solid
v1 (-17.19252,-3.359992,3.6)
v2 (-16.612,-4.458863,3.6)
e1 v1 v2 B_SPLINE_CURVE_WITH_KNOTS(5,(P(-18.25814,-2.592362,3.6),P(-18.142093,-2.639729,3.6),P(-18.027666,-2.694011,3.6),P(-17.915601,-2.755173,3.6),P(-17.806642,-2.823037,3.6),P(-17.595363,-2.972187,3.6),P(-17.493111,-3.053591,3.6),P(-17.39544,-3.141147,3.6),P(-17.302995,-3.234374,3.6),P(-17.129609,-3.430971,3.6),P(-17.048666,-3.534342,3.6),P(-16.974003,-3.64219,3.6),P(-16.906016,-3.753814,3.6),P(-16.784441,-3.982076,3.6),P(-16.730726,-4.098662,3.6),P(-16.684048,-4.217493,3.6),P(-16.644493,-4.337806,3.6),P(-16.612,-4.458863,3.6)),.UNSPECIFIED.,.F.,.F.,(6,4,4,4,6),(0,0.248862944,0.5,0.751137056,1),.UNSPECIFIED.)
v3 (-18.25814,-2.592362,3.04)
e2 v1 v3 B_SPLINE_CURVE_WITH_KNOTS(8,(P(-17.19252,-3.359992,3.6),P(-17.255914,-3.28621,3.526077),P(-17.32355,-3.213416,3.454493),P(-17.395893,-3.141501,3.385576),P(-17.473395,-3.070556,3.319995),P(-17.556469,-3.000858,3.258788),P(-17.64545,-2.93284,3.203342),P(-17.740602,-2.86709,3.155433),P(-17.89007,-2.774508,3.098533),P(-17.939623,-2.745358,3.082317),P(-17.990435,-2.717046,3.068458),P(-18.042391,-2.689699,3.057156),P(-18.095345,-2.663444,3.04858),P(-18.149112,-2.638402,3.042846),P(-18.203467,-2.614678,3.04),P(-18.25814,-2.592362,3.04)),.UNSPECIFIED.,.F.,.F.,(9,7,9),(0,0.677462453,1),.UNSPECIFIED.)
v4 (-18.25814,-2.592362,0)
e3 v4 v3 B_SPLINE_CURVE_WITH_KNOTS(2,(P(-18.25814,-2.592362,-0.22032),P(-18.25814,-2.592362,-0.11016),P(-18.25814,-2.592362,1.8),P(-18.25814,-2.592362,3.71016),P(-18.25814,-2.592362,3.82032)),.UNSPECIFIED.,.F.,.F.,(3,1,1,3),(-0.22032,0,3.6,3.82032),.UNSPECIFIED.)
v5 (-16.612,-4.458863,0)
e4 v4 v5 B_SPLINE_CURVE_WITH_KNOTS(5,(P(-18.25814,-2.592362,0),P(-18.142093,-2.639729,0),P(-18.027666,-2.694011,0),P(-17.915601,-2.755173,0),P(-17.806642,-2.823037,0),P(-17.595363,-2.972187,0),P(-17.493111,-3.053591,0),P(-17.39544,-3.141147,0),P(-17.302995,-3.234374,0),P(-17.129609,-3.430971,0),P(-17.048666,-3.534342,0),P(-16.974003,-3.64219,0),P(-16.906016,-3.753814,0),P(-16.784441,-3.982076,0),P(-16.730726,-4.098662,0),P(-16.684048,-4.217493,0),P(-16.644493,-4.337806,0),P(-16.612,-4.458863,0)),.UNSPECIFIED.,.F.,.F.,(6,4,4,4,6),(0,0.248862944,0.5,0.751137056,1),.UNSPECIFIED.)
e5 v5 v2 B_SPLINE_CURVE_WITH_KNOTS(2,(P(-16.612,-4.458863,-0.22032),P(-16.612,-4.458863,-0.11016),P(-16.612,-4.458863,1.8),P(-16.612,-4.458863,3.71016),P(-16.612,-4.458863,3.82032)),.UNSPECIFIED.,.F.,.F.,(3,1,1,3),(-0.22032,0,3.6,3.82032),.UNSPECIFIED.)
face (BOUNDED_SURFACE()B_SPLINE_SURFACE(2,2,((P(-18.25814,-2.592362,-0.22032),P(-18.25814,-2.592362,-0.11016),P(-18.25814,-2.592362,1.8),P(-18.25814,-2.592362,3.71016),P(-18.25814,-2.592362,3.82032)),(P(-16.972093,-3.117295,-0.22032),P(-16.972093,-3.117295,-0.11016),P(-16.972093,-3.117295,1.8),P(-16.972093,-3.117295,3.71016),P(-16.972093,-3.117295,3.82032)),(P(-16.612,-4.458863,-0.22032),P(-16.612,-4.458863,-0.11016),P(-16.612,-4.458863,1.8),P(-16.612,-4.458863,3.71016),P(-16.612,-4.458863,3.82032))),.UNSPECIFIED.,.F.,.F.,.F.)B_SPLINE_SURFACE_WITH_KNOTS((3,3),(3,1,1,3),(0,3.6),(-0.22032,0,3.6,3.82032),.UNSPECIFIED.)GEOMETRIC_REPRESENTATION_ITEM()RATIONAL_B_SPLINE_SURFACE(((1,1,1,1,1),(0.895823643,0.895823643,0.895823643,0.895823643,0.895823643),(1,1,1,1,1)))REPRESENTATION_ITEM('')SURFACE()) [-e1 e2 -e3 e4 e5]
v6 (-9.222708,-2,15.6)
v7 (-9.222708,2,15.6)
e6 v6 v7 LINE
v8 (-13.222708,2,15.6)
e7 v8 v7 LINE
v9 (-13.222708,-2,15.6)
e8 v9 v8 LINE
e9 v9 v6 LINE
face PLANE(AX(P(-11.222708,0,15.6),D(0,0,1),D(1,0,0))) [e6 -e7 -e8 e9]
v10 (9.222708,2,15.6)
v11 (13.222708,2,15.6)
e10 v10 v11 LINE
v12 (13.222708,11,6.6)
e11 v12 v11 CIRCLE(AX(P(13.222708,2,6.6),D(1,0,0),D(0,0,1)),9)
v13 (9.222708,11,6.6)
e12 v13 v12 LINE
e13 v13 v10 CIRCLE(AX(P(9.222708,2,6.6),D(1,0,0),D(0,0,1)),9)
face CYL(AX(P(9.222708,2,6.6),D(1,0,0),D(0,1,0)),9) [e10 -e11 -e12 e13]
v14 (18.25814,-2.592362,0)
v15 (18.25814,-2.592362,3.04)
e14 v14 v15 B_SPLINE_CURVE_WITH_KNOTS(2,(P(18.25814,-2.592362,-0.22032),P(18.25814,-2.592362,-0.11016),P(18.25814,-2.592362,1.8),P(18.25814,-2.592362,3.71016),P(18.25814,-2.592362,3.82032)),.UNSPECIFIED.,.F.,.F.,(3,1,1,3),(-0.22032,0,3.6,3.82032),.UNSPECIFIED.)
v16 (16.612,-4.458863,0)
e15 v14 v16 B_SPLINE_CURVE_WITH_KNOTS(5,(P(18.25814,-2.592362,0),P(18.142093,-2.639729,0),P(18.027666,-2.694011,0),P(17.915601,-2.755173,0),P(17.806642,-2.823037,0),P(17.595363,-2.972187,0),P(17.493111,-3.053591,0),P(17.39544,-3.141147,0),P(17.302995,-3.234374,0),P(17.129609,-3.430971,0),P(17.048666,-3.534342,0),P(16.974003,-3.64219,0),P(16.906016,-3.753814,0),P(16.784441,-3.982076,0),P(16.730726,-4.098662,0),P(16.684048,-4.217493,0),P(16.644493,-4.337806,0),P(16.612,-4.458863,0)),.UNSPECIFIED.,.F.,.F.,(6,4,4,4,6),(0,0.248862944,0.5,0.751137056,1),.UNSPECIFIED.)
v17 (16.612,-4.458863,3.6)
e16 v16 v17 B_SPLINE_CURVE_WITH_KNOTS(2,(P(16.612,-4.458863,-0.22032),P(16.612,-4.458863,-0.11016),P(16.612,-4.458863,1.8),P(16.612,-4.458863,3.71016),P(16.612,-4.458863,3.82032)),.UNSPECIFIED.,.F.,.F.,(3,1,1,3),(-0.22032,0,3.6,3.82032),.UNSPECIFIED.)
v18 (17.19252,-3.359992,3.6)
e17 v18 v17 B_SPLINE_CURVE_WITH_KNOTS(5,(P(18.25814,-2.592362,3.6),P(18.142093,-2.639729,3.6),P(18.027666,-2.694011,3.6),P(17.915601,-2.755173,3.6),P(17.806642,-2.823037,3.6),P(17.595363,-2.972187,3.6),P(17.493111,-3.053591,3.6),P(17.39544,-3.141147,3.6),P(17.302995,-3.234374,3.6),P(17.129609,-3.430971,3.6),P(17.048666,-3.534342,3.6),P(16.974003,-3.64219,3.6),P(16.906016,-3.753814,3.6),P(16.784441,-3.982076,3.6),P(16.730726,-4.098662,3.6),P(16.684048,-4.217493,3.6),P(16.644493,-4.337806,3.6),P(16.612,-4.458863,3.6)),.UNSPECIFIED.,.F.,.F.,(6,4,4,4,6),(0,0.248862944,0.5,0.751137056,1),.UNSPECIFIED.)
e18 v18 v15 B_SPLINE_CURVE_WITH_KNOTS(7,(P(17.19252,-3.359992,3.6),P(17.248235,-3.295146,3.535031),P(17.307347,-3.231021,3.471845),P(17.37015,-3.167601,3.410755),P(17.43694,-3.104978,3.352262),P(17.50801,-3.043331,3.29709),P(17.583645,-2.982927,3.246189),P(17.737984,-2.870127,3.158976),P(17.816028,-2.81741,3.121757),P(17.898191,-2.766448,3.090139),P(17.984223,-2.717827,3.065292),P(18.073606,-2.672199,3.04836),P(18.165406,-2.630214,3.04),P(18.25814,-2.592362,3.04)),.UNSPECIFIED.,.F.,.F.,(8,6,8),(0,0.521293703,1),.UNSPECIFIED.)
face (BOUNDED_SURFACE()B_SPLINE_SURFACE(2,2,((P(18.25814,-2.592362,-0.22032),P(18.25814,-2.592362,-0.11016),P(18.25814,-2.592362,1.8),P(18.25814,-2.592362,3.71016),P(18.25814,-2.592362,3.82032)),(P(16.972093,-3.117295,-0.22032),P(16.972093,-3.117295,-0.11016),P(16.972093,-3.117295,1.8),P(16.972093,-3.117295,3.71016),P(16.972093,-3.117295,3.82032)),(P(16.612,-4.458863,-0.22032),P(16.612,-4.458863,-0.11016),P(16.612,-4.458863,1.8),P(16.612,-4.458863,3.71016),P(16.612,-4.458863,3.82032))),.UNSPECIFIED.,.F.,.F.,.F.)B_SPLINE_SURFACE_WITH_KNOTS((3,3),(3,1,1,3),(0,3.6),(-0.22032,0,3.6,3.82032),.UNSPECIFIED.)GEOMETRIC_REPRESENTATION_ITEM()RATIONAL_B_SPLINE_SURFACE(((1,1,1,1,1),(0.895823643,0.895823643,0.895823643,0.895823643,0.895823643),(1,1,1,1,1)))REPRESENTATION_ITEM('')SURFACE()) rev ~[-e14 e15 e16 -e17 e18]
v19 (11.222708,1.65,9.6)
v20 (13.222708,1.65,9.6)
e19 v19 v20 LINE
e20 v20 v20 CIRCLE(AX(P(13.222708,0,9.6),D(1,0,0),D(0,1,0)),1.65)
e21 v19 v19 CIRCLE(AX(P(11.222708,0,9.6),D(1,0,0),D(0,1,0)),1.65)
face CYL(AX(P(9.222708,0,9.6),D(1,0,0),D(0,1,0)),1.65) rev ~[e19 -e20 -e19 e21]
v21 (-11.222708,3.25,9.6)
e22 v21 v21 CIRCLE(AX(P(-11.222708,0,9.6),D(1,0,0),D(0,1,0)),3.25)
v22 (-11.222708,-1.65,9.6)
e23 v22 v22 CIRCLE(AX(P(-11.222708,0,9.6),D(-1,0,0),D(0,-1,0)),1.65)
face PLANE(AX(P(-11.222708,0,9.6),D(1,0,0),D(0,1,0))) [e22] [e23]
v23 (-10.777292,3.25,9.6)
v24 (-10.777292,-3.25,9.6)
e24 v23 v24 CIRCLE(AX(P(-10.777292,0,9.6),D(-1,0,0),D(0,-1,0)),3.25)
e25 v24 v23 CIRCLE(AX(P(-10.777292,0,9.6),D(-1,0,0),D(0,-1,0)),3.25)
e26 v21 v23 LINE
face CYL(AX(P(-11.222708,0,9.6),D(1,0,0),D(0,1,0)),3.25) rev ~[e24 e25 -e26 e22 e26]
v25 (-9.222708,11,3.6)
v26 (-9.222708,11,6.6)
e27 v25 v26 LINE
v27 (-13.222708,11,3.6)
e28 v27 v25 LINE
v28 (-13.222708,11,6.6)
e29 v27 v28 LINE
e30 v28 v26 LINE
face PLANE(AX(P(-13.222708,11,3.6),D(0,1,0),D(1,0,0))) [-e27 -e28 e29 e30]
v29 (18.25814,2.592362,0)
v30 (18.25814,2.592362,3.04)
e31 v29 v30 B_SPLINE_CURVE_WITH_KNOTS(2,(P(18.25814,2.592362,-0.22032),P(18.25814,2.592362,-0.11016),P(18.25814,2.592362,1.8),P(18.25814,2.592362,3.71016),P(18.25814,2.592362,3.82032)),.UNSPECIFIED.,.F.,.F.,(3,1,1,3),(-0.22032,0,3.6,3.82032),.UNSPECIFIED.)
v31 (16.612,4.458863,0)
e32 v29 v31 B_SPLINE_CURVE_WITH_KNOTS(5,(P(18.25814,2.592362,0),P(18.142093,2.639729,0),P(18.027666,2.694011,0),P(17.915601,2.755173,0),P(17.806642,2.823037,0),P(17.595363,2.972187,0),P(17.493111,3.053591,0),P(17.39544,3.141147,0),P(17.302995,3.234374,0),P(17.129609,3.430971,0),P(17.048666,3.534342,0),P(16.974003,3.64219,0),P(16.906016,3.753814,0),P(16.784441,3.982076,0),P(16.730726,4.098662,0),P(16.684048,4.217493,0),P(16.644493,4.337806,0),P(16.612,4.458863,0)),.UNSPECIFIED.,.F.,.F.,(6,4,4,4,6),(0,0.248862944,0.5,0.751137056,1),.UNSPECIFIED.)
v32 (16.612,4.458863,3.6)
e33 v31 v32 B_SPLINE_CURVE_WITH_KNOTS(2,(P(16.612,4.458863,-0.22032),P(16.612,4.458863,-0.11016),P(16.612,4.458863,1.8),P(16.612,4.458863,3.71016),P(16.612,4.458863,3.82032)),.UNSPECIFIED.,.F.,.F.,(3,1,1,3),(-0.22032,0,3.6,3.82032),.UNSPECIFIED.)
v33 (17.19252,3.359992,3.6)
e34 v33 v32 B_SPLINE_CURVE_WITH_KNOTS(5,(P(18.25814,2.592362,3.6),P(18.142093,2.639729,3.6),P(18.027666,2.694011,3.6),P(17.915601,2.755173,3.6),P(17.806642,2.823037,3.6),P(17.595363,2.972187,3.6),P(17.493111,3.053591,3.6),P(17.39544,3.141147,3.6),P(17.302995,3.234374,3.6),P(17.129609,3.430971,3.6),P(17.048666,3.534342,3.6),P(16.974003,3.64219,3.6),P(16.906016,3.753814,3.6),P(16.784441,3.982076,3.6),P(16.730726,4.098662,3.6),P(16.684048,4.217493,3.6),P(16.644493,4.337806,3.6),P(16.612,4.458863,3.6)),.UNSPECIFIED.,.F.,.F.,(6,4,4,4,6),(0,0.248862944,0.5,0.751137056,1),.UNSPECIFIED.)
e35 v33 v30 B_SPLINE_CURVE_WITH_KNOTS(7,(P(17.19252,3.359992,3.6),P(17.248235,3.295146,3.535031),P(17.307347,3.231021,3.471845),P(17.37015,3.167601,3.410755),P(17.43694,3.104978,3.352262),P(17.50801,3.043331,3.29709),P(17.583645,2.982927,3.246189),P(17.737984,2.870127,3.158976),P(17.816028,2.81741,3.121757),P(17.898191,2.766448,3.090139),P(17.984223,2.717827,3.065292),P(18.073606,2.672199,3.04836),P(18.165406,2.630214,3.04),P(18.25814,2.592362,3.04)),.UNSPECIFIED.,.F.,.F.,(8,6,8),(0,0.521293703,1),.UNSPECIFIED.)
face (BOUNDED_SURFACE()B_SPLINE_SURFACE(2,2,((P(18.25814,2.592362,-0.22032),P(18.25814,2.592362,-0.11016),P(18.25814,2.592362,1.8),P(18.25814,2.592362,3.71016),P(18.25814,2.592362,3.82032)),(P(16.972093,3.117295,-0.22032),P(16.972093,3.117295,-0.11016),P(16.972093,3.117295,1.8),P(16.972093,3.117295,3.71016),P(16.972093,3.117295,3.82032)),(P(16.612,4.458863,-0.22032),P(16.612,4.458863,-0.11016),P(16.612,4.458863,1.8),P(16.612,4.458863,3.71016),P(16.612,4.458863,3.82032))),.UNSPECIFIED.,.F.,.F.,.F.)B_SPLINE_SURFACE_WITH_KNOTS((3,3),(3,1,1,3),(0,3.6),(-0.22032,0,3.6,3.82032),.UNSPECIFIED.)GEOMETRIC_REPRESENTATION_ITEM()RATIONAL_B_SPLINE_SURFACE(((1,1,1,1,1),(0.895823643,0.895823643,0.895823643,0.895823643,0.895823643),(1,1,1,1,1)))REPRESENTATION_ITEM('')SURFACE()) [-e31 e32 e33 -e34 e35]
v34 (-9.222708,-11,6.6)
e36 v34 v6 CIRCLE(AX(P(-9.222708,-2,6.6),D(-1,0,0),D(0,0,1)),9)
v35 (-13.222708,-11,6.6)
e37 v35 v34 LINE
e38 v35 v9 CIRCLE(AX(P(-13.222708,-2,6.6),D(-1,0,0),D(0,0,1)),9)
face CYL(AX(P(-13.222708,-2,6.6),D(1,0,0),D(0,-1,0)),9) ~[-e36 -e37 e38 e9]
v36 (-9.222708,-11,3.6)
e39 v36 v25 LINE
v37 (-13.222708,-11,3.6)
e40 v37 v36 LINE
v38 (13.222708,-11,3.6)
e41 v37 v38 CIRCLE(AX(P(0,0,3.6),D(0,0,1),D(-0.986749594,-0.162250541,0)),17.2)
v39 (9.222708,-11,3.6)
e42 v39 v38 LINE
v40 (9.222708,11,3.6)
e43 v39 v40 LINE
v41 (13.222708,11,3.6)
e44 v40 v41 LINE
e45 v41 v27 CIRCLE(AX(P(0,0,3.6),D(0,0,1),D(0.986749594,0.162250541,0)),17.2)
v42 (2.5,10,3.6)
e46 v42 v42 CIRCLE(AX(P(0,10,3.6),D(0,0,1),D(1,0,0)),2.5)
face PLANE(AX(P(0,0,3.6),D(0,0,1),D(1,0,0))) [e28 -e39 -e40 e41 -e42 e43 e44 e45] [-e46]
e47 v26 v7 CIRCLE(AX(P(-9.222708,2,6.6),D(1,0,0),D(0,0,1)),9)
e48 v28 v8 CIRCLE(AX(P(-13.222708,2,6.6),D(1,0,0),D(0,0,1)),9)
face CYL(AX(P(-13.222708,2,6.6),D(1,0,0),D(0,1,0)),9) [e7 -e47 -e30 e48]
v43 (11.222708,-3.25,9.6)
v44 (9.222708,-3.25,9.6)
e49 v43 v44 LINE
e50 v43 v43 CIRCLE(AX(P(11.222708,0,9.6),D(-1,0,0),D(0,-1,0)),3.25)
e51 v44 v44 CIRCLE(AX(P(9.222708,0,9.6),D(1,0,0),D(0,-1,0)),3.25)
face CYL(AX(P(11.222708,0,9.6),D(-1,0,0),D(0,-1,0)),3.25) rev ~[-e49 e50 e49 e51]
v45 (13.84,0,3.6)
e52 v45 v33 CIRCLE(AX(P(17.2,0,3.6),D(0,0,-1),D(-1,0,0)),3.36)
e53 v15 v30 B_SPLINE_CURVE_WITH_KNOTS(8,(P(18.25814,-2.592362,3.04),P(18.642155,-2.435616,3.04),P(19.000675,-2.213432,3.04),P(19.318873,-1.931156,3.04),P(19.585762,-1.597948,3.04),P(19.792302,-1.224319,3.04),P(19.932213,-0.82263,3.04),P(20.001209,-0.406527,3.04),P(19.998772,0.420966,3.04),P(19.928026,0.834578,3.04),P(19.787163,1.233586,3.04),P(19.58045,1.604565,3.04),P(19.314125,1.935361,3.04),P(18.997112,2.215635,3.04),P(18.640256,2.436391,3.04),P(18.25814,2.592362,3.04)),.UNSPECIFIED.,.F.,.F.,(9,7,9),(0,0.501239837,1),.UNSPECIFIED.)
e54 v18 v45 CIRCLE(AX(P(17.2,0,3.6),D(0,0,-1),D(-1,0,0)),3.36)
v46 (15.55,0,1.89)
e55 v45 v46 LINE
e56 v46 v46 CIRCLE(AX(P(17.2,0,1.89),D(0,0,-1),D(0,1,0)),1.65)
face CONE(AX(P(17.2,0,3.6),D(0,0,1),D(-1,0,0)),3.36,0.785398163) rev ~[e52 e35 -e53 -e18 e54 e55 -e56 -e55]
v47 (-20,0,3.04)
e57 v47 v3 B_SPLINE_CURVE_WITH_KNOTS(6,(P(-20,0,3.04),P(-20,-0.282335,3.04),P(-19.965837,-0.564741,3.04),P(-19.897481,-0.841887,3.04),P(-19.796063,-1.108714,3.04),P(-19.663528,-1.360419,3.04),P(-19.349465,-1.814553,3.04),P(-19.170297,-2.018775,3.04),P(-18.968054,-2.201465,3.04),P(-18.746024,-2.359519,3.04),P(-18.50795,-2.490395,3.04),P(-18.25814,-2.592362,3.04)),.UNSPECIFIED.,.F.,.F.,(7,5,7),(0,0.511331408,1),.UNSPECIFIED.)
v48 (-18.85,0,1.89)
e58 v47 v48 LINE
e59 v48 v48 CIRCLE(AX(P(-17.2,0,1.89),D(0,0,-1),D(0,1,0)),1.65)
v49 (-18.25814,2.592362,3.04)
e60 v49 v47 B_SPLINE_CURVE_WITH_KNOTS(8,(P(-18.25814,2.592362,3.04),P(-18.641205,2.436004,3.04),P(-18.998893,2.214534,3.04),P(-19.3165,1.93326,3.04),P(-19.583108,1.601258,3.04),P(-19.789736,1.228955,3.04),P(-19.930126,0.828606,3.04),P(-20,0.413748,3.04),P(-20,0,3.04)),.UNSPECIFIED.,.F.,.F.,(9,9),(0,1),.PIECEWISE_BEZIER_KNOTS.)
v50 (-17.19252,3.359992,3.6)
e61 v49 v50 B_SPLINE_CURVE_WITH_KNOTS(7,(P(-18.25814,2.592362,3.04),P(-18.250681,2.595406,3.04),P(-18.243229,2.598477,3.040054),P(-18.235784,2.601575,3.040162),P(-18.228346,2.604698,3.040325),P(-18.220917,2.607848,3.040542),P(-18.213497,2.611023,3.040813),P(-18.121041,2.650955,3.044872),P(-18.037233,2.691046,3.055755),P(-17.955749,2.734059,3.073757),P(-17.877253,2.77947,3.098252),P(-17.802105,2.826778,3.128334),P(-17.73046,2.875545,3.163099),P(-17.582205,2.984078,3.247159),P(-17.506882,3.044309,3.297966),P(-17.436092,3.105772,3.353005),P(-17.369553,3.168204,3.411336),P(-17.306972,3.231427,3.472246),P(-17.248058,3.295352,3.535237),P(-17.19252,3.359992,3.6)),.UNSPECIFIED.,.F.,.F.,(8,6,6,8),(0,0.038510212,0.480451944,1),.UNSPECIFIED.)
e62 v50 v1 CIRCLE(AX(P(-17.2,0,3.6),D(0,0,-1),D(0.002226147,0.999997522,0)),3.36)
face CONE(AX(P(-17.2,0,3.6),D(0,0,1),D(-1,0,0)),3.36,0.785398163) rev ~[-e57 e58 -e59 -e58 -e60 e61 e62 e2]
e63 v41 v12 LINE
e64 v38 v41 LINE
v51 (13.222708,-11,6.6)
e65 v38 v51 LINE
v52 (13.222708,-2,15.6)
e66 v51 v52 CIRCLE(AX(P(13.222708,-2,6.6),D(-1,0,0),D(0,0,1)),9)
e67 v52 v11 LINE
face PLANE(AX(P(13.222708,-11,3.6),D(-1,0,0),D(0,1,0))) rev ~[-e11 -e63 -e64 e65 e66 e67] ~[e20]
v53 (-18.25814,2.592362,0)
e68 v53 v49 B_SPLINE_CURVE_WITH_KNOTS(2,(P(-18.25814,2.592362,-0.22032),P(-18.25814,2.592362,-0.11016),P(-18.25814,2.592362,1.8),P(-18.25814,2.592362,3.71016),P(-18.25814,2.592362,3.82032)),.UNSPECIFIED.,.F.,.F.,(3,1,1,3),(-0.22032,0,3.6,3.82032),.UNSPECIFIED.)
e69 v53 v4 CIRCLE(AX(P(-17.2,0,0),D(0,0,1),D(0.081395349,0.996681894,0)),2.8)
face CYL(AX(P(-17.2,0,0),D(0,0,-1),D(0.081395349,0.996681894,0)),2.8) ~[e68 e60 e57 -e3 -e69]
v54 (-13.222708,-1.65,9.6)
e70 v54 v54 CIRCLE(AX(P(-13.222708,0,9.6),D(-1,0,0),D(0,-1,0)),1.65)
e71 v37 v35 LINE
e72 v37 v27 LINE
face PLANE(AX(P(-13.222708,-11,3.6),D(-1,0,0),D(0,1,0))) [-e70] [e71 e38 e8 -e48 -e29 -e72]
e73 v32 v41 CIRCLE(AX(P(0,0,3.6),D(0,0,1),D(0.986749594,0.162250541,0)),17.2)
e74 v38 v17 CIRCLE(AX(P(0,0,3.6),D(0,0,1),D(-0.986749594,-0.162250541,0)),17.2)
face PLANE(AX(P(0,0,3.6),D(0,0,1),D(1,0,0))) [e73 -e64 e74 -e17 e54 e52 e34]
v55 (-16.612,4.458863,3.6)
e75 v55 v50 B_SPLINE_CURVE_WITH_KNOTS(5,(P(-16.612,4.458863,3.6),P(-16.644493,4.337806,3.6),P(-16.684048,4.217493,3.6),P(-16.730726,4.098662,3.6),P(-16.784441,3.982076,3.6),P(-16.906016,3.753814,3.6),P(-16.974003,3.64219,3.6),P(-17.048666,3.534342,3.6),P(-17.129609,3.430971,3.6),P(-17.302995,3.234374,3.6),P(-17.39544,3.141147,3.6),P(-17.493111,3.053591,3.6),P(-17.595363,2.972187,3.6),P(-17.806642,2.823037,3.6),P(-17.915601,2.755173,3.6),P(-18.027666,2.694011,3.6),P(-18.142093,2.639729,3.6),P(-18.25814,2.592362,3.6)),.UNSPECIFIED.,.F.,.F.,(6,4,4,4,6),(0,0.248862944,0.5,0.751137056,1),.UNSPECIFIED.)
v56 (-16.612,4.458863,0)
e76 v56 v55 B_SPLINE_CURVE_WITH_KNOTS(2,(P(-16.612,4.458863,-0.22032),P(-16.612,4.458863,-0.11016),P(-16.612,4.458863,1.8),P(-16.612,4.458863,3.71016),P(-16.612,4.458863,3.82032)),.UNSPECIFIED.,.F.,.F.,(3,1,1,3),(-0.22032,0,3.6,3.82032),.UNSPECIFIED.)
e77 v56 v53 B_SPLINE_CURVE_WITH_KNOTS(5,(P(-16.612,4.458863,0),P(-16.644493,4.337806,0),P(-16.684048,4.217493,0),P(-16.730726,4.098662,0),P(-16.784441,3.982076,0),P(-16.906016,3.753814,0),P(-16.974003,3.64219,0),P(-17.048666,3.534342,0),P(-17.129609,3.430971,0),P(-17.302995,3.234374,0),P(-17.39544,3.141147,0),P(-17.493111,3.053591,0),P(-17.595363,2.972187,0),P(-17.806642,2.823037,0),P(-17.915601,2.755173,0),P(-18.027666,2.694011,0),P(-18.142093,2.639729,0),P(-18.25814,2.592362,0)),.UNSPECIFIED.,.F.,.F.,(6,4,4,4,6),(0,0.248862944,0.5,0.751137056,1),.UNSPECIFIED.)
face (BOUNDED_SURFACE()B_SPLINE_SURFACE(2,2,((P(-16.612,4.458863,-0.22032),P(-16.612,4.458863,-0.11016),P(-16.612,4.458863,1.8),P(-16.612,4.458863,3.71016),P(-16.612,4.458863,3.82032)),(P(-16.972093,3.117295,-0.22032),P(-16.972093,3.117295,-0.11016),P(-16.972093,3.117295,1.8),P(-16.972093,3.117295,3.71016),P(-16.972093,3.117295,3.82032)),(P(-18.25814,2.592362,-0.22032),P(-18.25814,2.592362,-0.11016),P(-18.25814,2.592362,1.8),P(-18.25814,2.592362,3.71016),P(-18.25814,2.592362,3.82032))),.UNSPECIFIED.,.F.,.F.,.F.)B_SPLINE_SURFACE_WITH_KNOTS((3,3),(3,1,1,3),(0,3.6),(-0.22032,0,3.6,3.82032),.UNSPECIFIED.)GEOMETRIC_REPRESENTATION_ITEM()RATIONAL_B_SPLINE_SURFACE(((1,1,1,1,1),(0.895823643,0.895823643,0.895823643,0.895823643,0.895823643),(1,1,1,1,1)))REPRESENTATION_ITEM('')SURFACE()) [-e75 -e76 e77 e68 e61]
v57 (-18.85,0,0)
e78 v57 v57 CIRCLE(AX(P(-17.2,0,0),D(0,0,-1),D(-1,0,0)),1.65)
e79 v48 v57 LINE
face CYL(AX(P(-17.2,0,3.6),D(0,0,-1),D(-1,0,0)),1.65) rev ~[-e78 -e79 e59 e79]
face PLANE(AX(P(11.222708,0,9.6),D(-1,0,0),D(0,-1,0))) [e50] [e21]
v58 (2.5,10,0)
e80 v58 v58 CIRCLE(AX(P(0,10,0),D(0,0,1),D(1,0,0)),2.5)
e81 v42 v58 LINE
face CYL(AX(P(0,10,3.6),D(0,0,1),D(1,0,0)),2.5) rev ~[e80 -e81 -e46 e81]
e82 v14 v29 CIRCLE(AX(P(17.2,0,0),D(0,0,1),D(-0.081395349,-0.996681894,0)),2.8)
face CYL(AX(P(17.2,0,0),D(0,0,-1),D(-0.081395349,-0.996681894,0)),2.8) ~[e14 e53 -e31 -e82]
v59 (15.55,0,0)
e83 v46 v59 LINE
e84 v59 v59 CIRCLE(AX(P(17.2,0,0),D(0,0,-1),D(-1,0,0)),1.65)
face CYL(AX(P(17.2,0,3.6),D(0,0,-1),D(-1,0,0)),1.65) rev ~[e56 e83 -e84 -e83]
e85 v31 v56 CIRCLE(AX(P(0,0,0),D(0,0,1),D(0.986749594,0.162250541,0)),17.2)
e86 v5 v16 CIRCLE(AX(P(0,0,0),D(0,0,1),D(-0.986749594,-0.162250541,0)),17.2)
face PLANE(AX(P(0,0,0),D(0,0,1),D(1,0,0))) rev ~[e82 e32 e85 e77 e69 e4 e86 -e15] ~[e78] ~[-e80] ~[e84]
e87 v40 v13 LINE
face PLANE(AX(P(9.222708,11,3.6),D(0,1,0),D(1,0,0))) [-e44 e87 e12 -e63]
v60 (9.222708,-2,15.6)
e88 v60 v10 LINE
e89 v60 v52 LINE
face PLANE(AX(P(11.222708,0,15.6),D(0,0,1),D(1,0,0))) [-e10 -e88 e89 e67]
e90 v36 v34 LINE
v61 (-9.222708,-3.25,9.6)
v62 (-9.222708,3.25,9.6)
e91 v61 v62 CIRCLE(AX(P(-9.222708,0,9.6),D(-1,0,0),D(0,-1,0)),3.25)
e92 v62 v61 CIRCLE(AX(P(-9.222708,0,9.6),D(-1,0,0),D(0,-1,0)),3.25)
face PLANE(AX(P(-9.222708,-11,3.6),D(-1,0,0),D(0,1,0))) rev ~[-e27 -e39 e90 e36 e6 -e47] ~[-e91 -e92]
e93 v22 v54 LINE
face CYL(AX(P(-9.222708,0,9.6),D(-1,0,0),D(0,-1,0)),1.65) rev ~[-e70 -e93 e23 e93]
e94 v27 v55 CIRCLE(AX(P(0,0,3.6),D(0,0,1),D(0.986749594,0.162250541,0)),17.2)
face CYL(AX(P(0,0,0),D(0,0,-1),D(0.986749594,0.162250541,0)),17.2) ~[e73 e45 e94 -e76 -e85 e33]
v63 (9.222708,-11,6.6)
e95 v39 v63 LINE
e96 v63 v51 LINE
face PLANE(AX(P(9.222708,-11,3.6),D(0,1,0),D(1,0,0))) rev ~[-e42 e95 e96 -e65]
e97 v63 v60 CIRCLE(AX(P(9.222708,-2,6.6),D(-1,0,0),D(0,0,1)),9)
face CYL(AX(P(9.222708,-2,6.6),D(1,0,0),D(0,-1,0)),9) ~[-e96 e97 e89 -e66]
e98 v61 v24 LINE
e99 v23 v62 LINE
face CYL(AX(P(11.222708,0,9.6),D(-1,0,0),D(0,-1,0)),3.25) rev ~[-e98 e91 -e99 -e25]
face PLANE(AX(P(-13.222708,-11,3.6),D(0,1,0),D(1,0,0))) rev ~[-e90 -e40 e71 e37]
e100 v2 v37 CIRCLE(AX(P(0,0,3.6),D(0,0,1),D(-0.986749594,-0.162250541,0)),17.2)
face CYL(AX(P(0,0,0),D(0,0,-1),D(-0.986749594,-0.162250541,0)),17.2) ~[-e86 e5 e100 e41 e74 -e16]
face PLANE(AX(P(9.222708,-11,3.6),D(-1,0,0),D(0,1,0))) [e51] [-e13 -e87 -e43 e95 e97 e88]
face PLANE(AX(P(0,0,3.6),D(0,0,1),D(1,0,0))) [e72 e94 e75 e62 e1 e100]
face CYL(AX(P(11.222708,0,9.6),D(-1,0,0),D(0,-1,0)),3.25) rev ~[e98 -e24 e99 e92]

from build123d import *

# Parameters (mm, degrees)
F1_DEPTH             = 3.6
F2_R                 = 2.8
F4_D                 = 3.3
F4_DEPTH             = 20
F4_CSINK_D           = 6.72
F4_CSINK_ANGLE       = 90
F4_TIP               = 0.9914200214
F3_R                 = 2.5
F5_DEPTH             = 3.6
F3_W                 = 4
F3_H                 = 22
F6_DEPTH             = 12
F9_D                 = 3.3
F9_DEPTH             = 20
F9_CBORE_D           = 6.5
F9_CBORE_DEPTH       = 2
F9_TIP               = 0.9914200214
F9_ON_F7_D           = 3.3
F9_ON_F7_DEPTH       = 20
F9_ON_F7_CBORE_D     = 6.5
F9_ON_F7_CBORE_DEPTH = 2
F9_ON_F7_TIP         = 0.9914200214
F10_R                = 9


with BuildPart() as f1:
    # F0 (on Top) → F1 (new body)
    with BuildSketch(Plane.XY):
        with BuildLine():
            ThreePointArc((16.9720930233, -2.7907093023), (20, 0), (16.9720930233, 2.7907093023))
            ThreePointArc((16.9720930233, 2.7907093023), (0, 17.2), (-16.9720930233, 2.7907093023))
            ThreePointArc((-16.9720930233, 2.7907093023), (-20, 0), (-16.9720930233, -2.7907093023))
            ThreePointArc((-16.9720930233, -2.7907093023), (0, -17.2), (16.9720930233, -2.7907093023))
        make_face()
    extrude(amount=F1_DEPTH)

    # F2
    f2_edges = [f1.edges().sort_by_distance(p)[0] for p in [
        (-16.972093, -2.790709, 1.8),
        (16.972093, -2.790709, 1.8),
        (16.972093, 2.790709, 1.8),
        (-16.972093, 2.790709, 1.8),
    ]]
    fillet(f2_edges, radius=F2_R)

    # F4
    with Locations(Plane.XY.offset(3.6)):
        with Locations((-17.2, 0), (17.2, 0)):
            CounterSinkHole(F4_D / 2, F4_CSINK_D / 2, depth=F4_DEPTH, counter_sink_angle=F4_CSINK_ANGLE)
            with Locations((0, 0, -(F4_DEPTH + F4_TIP / 2))):  # 118° drill point
                Cone(0, F4_D / 2, F4_TIP, mode=Mode.SUBTRACT)

    # F3 (on face) → F5 (cut, through all)
    with BuildSketch(Plane.XY.offset(3.6)):
        with Locations((0, 10)):
            Circle(F3_R)
    extrude(amount=-F5_DEPTH, mode=Mode.SUBTRACT)

    # F3 (on face) → F6 (join)
    with BuildSketch(Plane.XY.offset(3.6)):
        with Locations((-11.2227077409, 0)):
            Rectangle(F3_W, F3_H)
        with Locations((11.2227077409, 0)):
            Rectangle(F3_W, F3_H)
    extrude(amount=F6_DEPTH)

    # F9
    with Locations(Plane(origin=(9.2227077409, 0, 0), x_dir=(0, -1, 0), z_dir=(-1, 0, 0))):
        with Locations((0, 9.6)):
            CounterBoreHole(F9_D / 2, F9_CBORE_D / 2, F9_CBORE_DEPTH, depth=F9_DEPTH)
            with Locations((0, 0, -(F9_DEPTH + F9_TIP / 2))):  # 118° drill point
                Cone(0, F9_D / 2, F9_TIP, mode=Mode.SUBTRACT)

    # F9 on F7
    with Locations(Plane.YZ.offset(-9.2227077409)):
        with Locations((0, 9.6)):
            CounterBoreHole(F9_ON_F7_D / 2, F9_ON_F7_CBORE_D / 2, F9_ON_F7_CBORE_DEPTH, depth=F9_ON_F7_DEPTH)
            with Locations((0, 0, -(F9_ON_F7_DEPTH + F9_ON_F7_TIP / 2))):  # 118° drill point
                Cone(0, F9_ON_F7_D / 2, F9_ON_F7_TIP, mode=Mode.SUBTRACT)

    # F10
    f10_edges = [f1.edges().sort_by_distance(p)[0] for p in [
        (11.222708, 11, 15.6),
        (-11.222708, 11, 15.6),
        (-11.222708, -11, 15.6),
        (11.222708, -11, 15.6),
    ]]
    fillet(f10_edges, radius=F10_R)


solid = f1.part
